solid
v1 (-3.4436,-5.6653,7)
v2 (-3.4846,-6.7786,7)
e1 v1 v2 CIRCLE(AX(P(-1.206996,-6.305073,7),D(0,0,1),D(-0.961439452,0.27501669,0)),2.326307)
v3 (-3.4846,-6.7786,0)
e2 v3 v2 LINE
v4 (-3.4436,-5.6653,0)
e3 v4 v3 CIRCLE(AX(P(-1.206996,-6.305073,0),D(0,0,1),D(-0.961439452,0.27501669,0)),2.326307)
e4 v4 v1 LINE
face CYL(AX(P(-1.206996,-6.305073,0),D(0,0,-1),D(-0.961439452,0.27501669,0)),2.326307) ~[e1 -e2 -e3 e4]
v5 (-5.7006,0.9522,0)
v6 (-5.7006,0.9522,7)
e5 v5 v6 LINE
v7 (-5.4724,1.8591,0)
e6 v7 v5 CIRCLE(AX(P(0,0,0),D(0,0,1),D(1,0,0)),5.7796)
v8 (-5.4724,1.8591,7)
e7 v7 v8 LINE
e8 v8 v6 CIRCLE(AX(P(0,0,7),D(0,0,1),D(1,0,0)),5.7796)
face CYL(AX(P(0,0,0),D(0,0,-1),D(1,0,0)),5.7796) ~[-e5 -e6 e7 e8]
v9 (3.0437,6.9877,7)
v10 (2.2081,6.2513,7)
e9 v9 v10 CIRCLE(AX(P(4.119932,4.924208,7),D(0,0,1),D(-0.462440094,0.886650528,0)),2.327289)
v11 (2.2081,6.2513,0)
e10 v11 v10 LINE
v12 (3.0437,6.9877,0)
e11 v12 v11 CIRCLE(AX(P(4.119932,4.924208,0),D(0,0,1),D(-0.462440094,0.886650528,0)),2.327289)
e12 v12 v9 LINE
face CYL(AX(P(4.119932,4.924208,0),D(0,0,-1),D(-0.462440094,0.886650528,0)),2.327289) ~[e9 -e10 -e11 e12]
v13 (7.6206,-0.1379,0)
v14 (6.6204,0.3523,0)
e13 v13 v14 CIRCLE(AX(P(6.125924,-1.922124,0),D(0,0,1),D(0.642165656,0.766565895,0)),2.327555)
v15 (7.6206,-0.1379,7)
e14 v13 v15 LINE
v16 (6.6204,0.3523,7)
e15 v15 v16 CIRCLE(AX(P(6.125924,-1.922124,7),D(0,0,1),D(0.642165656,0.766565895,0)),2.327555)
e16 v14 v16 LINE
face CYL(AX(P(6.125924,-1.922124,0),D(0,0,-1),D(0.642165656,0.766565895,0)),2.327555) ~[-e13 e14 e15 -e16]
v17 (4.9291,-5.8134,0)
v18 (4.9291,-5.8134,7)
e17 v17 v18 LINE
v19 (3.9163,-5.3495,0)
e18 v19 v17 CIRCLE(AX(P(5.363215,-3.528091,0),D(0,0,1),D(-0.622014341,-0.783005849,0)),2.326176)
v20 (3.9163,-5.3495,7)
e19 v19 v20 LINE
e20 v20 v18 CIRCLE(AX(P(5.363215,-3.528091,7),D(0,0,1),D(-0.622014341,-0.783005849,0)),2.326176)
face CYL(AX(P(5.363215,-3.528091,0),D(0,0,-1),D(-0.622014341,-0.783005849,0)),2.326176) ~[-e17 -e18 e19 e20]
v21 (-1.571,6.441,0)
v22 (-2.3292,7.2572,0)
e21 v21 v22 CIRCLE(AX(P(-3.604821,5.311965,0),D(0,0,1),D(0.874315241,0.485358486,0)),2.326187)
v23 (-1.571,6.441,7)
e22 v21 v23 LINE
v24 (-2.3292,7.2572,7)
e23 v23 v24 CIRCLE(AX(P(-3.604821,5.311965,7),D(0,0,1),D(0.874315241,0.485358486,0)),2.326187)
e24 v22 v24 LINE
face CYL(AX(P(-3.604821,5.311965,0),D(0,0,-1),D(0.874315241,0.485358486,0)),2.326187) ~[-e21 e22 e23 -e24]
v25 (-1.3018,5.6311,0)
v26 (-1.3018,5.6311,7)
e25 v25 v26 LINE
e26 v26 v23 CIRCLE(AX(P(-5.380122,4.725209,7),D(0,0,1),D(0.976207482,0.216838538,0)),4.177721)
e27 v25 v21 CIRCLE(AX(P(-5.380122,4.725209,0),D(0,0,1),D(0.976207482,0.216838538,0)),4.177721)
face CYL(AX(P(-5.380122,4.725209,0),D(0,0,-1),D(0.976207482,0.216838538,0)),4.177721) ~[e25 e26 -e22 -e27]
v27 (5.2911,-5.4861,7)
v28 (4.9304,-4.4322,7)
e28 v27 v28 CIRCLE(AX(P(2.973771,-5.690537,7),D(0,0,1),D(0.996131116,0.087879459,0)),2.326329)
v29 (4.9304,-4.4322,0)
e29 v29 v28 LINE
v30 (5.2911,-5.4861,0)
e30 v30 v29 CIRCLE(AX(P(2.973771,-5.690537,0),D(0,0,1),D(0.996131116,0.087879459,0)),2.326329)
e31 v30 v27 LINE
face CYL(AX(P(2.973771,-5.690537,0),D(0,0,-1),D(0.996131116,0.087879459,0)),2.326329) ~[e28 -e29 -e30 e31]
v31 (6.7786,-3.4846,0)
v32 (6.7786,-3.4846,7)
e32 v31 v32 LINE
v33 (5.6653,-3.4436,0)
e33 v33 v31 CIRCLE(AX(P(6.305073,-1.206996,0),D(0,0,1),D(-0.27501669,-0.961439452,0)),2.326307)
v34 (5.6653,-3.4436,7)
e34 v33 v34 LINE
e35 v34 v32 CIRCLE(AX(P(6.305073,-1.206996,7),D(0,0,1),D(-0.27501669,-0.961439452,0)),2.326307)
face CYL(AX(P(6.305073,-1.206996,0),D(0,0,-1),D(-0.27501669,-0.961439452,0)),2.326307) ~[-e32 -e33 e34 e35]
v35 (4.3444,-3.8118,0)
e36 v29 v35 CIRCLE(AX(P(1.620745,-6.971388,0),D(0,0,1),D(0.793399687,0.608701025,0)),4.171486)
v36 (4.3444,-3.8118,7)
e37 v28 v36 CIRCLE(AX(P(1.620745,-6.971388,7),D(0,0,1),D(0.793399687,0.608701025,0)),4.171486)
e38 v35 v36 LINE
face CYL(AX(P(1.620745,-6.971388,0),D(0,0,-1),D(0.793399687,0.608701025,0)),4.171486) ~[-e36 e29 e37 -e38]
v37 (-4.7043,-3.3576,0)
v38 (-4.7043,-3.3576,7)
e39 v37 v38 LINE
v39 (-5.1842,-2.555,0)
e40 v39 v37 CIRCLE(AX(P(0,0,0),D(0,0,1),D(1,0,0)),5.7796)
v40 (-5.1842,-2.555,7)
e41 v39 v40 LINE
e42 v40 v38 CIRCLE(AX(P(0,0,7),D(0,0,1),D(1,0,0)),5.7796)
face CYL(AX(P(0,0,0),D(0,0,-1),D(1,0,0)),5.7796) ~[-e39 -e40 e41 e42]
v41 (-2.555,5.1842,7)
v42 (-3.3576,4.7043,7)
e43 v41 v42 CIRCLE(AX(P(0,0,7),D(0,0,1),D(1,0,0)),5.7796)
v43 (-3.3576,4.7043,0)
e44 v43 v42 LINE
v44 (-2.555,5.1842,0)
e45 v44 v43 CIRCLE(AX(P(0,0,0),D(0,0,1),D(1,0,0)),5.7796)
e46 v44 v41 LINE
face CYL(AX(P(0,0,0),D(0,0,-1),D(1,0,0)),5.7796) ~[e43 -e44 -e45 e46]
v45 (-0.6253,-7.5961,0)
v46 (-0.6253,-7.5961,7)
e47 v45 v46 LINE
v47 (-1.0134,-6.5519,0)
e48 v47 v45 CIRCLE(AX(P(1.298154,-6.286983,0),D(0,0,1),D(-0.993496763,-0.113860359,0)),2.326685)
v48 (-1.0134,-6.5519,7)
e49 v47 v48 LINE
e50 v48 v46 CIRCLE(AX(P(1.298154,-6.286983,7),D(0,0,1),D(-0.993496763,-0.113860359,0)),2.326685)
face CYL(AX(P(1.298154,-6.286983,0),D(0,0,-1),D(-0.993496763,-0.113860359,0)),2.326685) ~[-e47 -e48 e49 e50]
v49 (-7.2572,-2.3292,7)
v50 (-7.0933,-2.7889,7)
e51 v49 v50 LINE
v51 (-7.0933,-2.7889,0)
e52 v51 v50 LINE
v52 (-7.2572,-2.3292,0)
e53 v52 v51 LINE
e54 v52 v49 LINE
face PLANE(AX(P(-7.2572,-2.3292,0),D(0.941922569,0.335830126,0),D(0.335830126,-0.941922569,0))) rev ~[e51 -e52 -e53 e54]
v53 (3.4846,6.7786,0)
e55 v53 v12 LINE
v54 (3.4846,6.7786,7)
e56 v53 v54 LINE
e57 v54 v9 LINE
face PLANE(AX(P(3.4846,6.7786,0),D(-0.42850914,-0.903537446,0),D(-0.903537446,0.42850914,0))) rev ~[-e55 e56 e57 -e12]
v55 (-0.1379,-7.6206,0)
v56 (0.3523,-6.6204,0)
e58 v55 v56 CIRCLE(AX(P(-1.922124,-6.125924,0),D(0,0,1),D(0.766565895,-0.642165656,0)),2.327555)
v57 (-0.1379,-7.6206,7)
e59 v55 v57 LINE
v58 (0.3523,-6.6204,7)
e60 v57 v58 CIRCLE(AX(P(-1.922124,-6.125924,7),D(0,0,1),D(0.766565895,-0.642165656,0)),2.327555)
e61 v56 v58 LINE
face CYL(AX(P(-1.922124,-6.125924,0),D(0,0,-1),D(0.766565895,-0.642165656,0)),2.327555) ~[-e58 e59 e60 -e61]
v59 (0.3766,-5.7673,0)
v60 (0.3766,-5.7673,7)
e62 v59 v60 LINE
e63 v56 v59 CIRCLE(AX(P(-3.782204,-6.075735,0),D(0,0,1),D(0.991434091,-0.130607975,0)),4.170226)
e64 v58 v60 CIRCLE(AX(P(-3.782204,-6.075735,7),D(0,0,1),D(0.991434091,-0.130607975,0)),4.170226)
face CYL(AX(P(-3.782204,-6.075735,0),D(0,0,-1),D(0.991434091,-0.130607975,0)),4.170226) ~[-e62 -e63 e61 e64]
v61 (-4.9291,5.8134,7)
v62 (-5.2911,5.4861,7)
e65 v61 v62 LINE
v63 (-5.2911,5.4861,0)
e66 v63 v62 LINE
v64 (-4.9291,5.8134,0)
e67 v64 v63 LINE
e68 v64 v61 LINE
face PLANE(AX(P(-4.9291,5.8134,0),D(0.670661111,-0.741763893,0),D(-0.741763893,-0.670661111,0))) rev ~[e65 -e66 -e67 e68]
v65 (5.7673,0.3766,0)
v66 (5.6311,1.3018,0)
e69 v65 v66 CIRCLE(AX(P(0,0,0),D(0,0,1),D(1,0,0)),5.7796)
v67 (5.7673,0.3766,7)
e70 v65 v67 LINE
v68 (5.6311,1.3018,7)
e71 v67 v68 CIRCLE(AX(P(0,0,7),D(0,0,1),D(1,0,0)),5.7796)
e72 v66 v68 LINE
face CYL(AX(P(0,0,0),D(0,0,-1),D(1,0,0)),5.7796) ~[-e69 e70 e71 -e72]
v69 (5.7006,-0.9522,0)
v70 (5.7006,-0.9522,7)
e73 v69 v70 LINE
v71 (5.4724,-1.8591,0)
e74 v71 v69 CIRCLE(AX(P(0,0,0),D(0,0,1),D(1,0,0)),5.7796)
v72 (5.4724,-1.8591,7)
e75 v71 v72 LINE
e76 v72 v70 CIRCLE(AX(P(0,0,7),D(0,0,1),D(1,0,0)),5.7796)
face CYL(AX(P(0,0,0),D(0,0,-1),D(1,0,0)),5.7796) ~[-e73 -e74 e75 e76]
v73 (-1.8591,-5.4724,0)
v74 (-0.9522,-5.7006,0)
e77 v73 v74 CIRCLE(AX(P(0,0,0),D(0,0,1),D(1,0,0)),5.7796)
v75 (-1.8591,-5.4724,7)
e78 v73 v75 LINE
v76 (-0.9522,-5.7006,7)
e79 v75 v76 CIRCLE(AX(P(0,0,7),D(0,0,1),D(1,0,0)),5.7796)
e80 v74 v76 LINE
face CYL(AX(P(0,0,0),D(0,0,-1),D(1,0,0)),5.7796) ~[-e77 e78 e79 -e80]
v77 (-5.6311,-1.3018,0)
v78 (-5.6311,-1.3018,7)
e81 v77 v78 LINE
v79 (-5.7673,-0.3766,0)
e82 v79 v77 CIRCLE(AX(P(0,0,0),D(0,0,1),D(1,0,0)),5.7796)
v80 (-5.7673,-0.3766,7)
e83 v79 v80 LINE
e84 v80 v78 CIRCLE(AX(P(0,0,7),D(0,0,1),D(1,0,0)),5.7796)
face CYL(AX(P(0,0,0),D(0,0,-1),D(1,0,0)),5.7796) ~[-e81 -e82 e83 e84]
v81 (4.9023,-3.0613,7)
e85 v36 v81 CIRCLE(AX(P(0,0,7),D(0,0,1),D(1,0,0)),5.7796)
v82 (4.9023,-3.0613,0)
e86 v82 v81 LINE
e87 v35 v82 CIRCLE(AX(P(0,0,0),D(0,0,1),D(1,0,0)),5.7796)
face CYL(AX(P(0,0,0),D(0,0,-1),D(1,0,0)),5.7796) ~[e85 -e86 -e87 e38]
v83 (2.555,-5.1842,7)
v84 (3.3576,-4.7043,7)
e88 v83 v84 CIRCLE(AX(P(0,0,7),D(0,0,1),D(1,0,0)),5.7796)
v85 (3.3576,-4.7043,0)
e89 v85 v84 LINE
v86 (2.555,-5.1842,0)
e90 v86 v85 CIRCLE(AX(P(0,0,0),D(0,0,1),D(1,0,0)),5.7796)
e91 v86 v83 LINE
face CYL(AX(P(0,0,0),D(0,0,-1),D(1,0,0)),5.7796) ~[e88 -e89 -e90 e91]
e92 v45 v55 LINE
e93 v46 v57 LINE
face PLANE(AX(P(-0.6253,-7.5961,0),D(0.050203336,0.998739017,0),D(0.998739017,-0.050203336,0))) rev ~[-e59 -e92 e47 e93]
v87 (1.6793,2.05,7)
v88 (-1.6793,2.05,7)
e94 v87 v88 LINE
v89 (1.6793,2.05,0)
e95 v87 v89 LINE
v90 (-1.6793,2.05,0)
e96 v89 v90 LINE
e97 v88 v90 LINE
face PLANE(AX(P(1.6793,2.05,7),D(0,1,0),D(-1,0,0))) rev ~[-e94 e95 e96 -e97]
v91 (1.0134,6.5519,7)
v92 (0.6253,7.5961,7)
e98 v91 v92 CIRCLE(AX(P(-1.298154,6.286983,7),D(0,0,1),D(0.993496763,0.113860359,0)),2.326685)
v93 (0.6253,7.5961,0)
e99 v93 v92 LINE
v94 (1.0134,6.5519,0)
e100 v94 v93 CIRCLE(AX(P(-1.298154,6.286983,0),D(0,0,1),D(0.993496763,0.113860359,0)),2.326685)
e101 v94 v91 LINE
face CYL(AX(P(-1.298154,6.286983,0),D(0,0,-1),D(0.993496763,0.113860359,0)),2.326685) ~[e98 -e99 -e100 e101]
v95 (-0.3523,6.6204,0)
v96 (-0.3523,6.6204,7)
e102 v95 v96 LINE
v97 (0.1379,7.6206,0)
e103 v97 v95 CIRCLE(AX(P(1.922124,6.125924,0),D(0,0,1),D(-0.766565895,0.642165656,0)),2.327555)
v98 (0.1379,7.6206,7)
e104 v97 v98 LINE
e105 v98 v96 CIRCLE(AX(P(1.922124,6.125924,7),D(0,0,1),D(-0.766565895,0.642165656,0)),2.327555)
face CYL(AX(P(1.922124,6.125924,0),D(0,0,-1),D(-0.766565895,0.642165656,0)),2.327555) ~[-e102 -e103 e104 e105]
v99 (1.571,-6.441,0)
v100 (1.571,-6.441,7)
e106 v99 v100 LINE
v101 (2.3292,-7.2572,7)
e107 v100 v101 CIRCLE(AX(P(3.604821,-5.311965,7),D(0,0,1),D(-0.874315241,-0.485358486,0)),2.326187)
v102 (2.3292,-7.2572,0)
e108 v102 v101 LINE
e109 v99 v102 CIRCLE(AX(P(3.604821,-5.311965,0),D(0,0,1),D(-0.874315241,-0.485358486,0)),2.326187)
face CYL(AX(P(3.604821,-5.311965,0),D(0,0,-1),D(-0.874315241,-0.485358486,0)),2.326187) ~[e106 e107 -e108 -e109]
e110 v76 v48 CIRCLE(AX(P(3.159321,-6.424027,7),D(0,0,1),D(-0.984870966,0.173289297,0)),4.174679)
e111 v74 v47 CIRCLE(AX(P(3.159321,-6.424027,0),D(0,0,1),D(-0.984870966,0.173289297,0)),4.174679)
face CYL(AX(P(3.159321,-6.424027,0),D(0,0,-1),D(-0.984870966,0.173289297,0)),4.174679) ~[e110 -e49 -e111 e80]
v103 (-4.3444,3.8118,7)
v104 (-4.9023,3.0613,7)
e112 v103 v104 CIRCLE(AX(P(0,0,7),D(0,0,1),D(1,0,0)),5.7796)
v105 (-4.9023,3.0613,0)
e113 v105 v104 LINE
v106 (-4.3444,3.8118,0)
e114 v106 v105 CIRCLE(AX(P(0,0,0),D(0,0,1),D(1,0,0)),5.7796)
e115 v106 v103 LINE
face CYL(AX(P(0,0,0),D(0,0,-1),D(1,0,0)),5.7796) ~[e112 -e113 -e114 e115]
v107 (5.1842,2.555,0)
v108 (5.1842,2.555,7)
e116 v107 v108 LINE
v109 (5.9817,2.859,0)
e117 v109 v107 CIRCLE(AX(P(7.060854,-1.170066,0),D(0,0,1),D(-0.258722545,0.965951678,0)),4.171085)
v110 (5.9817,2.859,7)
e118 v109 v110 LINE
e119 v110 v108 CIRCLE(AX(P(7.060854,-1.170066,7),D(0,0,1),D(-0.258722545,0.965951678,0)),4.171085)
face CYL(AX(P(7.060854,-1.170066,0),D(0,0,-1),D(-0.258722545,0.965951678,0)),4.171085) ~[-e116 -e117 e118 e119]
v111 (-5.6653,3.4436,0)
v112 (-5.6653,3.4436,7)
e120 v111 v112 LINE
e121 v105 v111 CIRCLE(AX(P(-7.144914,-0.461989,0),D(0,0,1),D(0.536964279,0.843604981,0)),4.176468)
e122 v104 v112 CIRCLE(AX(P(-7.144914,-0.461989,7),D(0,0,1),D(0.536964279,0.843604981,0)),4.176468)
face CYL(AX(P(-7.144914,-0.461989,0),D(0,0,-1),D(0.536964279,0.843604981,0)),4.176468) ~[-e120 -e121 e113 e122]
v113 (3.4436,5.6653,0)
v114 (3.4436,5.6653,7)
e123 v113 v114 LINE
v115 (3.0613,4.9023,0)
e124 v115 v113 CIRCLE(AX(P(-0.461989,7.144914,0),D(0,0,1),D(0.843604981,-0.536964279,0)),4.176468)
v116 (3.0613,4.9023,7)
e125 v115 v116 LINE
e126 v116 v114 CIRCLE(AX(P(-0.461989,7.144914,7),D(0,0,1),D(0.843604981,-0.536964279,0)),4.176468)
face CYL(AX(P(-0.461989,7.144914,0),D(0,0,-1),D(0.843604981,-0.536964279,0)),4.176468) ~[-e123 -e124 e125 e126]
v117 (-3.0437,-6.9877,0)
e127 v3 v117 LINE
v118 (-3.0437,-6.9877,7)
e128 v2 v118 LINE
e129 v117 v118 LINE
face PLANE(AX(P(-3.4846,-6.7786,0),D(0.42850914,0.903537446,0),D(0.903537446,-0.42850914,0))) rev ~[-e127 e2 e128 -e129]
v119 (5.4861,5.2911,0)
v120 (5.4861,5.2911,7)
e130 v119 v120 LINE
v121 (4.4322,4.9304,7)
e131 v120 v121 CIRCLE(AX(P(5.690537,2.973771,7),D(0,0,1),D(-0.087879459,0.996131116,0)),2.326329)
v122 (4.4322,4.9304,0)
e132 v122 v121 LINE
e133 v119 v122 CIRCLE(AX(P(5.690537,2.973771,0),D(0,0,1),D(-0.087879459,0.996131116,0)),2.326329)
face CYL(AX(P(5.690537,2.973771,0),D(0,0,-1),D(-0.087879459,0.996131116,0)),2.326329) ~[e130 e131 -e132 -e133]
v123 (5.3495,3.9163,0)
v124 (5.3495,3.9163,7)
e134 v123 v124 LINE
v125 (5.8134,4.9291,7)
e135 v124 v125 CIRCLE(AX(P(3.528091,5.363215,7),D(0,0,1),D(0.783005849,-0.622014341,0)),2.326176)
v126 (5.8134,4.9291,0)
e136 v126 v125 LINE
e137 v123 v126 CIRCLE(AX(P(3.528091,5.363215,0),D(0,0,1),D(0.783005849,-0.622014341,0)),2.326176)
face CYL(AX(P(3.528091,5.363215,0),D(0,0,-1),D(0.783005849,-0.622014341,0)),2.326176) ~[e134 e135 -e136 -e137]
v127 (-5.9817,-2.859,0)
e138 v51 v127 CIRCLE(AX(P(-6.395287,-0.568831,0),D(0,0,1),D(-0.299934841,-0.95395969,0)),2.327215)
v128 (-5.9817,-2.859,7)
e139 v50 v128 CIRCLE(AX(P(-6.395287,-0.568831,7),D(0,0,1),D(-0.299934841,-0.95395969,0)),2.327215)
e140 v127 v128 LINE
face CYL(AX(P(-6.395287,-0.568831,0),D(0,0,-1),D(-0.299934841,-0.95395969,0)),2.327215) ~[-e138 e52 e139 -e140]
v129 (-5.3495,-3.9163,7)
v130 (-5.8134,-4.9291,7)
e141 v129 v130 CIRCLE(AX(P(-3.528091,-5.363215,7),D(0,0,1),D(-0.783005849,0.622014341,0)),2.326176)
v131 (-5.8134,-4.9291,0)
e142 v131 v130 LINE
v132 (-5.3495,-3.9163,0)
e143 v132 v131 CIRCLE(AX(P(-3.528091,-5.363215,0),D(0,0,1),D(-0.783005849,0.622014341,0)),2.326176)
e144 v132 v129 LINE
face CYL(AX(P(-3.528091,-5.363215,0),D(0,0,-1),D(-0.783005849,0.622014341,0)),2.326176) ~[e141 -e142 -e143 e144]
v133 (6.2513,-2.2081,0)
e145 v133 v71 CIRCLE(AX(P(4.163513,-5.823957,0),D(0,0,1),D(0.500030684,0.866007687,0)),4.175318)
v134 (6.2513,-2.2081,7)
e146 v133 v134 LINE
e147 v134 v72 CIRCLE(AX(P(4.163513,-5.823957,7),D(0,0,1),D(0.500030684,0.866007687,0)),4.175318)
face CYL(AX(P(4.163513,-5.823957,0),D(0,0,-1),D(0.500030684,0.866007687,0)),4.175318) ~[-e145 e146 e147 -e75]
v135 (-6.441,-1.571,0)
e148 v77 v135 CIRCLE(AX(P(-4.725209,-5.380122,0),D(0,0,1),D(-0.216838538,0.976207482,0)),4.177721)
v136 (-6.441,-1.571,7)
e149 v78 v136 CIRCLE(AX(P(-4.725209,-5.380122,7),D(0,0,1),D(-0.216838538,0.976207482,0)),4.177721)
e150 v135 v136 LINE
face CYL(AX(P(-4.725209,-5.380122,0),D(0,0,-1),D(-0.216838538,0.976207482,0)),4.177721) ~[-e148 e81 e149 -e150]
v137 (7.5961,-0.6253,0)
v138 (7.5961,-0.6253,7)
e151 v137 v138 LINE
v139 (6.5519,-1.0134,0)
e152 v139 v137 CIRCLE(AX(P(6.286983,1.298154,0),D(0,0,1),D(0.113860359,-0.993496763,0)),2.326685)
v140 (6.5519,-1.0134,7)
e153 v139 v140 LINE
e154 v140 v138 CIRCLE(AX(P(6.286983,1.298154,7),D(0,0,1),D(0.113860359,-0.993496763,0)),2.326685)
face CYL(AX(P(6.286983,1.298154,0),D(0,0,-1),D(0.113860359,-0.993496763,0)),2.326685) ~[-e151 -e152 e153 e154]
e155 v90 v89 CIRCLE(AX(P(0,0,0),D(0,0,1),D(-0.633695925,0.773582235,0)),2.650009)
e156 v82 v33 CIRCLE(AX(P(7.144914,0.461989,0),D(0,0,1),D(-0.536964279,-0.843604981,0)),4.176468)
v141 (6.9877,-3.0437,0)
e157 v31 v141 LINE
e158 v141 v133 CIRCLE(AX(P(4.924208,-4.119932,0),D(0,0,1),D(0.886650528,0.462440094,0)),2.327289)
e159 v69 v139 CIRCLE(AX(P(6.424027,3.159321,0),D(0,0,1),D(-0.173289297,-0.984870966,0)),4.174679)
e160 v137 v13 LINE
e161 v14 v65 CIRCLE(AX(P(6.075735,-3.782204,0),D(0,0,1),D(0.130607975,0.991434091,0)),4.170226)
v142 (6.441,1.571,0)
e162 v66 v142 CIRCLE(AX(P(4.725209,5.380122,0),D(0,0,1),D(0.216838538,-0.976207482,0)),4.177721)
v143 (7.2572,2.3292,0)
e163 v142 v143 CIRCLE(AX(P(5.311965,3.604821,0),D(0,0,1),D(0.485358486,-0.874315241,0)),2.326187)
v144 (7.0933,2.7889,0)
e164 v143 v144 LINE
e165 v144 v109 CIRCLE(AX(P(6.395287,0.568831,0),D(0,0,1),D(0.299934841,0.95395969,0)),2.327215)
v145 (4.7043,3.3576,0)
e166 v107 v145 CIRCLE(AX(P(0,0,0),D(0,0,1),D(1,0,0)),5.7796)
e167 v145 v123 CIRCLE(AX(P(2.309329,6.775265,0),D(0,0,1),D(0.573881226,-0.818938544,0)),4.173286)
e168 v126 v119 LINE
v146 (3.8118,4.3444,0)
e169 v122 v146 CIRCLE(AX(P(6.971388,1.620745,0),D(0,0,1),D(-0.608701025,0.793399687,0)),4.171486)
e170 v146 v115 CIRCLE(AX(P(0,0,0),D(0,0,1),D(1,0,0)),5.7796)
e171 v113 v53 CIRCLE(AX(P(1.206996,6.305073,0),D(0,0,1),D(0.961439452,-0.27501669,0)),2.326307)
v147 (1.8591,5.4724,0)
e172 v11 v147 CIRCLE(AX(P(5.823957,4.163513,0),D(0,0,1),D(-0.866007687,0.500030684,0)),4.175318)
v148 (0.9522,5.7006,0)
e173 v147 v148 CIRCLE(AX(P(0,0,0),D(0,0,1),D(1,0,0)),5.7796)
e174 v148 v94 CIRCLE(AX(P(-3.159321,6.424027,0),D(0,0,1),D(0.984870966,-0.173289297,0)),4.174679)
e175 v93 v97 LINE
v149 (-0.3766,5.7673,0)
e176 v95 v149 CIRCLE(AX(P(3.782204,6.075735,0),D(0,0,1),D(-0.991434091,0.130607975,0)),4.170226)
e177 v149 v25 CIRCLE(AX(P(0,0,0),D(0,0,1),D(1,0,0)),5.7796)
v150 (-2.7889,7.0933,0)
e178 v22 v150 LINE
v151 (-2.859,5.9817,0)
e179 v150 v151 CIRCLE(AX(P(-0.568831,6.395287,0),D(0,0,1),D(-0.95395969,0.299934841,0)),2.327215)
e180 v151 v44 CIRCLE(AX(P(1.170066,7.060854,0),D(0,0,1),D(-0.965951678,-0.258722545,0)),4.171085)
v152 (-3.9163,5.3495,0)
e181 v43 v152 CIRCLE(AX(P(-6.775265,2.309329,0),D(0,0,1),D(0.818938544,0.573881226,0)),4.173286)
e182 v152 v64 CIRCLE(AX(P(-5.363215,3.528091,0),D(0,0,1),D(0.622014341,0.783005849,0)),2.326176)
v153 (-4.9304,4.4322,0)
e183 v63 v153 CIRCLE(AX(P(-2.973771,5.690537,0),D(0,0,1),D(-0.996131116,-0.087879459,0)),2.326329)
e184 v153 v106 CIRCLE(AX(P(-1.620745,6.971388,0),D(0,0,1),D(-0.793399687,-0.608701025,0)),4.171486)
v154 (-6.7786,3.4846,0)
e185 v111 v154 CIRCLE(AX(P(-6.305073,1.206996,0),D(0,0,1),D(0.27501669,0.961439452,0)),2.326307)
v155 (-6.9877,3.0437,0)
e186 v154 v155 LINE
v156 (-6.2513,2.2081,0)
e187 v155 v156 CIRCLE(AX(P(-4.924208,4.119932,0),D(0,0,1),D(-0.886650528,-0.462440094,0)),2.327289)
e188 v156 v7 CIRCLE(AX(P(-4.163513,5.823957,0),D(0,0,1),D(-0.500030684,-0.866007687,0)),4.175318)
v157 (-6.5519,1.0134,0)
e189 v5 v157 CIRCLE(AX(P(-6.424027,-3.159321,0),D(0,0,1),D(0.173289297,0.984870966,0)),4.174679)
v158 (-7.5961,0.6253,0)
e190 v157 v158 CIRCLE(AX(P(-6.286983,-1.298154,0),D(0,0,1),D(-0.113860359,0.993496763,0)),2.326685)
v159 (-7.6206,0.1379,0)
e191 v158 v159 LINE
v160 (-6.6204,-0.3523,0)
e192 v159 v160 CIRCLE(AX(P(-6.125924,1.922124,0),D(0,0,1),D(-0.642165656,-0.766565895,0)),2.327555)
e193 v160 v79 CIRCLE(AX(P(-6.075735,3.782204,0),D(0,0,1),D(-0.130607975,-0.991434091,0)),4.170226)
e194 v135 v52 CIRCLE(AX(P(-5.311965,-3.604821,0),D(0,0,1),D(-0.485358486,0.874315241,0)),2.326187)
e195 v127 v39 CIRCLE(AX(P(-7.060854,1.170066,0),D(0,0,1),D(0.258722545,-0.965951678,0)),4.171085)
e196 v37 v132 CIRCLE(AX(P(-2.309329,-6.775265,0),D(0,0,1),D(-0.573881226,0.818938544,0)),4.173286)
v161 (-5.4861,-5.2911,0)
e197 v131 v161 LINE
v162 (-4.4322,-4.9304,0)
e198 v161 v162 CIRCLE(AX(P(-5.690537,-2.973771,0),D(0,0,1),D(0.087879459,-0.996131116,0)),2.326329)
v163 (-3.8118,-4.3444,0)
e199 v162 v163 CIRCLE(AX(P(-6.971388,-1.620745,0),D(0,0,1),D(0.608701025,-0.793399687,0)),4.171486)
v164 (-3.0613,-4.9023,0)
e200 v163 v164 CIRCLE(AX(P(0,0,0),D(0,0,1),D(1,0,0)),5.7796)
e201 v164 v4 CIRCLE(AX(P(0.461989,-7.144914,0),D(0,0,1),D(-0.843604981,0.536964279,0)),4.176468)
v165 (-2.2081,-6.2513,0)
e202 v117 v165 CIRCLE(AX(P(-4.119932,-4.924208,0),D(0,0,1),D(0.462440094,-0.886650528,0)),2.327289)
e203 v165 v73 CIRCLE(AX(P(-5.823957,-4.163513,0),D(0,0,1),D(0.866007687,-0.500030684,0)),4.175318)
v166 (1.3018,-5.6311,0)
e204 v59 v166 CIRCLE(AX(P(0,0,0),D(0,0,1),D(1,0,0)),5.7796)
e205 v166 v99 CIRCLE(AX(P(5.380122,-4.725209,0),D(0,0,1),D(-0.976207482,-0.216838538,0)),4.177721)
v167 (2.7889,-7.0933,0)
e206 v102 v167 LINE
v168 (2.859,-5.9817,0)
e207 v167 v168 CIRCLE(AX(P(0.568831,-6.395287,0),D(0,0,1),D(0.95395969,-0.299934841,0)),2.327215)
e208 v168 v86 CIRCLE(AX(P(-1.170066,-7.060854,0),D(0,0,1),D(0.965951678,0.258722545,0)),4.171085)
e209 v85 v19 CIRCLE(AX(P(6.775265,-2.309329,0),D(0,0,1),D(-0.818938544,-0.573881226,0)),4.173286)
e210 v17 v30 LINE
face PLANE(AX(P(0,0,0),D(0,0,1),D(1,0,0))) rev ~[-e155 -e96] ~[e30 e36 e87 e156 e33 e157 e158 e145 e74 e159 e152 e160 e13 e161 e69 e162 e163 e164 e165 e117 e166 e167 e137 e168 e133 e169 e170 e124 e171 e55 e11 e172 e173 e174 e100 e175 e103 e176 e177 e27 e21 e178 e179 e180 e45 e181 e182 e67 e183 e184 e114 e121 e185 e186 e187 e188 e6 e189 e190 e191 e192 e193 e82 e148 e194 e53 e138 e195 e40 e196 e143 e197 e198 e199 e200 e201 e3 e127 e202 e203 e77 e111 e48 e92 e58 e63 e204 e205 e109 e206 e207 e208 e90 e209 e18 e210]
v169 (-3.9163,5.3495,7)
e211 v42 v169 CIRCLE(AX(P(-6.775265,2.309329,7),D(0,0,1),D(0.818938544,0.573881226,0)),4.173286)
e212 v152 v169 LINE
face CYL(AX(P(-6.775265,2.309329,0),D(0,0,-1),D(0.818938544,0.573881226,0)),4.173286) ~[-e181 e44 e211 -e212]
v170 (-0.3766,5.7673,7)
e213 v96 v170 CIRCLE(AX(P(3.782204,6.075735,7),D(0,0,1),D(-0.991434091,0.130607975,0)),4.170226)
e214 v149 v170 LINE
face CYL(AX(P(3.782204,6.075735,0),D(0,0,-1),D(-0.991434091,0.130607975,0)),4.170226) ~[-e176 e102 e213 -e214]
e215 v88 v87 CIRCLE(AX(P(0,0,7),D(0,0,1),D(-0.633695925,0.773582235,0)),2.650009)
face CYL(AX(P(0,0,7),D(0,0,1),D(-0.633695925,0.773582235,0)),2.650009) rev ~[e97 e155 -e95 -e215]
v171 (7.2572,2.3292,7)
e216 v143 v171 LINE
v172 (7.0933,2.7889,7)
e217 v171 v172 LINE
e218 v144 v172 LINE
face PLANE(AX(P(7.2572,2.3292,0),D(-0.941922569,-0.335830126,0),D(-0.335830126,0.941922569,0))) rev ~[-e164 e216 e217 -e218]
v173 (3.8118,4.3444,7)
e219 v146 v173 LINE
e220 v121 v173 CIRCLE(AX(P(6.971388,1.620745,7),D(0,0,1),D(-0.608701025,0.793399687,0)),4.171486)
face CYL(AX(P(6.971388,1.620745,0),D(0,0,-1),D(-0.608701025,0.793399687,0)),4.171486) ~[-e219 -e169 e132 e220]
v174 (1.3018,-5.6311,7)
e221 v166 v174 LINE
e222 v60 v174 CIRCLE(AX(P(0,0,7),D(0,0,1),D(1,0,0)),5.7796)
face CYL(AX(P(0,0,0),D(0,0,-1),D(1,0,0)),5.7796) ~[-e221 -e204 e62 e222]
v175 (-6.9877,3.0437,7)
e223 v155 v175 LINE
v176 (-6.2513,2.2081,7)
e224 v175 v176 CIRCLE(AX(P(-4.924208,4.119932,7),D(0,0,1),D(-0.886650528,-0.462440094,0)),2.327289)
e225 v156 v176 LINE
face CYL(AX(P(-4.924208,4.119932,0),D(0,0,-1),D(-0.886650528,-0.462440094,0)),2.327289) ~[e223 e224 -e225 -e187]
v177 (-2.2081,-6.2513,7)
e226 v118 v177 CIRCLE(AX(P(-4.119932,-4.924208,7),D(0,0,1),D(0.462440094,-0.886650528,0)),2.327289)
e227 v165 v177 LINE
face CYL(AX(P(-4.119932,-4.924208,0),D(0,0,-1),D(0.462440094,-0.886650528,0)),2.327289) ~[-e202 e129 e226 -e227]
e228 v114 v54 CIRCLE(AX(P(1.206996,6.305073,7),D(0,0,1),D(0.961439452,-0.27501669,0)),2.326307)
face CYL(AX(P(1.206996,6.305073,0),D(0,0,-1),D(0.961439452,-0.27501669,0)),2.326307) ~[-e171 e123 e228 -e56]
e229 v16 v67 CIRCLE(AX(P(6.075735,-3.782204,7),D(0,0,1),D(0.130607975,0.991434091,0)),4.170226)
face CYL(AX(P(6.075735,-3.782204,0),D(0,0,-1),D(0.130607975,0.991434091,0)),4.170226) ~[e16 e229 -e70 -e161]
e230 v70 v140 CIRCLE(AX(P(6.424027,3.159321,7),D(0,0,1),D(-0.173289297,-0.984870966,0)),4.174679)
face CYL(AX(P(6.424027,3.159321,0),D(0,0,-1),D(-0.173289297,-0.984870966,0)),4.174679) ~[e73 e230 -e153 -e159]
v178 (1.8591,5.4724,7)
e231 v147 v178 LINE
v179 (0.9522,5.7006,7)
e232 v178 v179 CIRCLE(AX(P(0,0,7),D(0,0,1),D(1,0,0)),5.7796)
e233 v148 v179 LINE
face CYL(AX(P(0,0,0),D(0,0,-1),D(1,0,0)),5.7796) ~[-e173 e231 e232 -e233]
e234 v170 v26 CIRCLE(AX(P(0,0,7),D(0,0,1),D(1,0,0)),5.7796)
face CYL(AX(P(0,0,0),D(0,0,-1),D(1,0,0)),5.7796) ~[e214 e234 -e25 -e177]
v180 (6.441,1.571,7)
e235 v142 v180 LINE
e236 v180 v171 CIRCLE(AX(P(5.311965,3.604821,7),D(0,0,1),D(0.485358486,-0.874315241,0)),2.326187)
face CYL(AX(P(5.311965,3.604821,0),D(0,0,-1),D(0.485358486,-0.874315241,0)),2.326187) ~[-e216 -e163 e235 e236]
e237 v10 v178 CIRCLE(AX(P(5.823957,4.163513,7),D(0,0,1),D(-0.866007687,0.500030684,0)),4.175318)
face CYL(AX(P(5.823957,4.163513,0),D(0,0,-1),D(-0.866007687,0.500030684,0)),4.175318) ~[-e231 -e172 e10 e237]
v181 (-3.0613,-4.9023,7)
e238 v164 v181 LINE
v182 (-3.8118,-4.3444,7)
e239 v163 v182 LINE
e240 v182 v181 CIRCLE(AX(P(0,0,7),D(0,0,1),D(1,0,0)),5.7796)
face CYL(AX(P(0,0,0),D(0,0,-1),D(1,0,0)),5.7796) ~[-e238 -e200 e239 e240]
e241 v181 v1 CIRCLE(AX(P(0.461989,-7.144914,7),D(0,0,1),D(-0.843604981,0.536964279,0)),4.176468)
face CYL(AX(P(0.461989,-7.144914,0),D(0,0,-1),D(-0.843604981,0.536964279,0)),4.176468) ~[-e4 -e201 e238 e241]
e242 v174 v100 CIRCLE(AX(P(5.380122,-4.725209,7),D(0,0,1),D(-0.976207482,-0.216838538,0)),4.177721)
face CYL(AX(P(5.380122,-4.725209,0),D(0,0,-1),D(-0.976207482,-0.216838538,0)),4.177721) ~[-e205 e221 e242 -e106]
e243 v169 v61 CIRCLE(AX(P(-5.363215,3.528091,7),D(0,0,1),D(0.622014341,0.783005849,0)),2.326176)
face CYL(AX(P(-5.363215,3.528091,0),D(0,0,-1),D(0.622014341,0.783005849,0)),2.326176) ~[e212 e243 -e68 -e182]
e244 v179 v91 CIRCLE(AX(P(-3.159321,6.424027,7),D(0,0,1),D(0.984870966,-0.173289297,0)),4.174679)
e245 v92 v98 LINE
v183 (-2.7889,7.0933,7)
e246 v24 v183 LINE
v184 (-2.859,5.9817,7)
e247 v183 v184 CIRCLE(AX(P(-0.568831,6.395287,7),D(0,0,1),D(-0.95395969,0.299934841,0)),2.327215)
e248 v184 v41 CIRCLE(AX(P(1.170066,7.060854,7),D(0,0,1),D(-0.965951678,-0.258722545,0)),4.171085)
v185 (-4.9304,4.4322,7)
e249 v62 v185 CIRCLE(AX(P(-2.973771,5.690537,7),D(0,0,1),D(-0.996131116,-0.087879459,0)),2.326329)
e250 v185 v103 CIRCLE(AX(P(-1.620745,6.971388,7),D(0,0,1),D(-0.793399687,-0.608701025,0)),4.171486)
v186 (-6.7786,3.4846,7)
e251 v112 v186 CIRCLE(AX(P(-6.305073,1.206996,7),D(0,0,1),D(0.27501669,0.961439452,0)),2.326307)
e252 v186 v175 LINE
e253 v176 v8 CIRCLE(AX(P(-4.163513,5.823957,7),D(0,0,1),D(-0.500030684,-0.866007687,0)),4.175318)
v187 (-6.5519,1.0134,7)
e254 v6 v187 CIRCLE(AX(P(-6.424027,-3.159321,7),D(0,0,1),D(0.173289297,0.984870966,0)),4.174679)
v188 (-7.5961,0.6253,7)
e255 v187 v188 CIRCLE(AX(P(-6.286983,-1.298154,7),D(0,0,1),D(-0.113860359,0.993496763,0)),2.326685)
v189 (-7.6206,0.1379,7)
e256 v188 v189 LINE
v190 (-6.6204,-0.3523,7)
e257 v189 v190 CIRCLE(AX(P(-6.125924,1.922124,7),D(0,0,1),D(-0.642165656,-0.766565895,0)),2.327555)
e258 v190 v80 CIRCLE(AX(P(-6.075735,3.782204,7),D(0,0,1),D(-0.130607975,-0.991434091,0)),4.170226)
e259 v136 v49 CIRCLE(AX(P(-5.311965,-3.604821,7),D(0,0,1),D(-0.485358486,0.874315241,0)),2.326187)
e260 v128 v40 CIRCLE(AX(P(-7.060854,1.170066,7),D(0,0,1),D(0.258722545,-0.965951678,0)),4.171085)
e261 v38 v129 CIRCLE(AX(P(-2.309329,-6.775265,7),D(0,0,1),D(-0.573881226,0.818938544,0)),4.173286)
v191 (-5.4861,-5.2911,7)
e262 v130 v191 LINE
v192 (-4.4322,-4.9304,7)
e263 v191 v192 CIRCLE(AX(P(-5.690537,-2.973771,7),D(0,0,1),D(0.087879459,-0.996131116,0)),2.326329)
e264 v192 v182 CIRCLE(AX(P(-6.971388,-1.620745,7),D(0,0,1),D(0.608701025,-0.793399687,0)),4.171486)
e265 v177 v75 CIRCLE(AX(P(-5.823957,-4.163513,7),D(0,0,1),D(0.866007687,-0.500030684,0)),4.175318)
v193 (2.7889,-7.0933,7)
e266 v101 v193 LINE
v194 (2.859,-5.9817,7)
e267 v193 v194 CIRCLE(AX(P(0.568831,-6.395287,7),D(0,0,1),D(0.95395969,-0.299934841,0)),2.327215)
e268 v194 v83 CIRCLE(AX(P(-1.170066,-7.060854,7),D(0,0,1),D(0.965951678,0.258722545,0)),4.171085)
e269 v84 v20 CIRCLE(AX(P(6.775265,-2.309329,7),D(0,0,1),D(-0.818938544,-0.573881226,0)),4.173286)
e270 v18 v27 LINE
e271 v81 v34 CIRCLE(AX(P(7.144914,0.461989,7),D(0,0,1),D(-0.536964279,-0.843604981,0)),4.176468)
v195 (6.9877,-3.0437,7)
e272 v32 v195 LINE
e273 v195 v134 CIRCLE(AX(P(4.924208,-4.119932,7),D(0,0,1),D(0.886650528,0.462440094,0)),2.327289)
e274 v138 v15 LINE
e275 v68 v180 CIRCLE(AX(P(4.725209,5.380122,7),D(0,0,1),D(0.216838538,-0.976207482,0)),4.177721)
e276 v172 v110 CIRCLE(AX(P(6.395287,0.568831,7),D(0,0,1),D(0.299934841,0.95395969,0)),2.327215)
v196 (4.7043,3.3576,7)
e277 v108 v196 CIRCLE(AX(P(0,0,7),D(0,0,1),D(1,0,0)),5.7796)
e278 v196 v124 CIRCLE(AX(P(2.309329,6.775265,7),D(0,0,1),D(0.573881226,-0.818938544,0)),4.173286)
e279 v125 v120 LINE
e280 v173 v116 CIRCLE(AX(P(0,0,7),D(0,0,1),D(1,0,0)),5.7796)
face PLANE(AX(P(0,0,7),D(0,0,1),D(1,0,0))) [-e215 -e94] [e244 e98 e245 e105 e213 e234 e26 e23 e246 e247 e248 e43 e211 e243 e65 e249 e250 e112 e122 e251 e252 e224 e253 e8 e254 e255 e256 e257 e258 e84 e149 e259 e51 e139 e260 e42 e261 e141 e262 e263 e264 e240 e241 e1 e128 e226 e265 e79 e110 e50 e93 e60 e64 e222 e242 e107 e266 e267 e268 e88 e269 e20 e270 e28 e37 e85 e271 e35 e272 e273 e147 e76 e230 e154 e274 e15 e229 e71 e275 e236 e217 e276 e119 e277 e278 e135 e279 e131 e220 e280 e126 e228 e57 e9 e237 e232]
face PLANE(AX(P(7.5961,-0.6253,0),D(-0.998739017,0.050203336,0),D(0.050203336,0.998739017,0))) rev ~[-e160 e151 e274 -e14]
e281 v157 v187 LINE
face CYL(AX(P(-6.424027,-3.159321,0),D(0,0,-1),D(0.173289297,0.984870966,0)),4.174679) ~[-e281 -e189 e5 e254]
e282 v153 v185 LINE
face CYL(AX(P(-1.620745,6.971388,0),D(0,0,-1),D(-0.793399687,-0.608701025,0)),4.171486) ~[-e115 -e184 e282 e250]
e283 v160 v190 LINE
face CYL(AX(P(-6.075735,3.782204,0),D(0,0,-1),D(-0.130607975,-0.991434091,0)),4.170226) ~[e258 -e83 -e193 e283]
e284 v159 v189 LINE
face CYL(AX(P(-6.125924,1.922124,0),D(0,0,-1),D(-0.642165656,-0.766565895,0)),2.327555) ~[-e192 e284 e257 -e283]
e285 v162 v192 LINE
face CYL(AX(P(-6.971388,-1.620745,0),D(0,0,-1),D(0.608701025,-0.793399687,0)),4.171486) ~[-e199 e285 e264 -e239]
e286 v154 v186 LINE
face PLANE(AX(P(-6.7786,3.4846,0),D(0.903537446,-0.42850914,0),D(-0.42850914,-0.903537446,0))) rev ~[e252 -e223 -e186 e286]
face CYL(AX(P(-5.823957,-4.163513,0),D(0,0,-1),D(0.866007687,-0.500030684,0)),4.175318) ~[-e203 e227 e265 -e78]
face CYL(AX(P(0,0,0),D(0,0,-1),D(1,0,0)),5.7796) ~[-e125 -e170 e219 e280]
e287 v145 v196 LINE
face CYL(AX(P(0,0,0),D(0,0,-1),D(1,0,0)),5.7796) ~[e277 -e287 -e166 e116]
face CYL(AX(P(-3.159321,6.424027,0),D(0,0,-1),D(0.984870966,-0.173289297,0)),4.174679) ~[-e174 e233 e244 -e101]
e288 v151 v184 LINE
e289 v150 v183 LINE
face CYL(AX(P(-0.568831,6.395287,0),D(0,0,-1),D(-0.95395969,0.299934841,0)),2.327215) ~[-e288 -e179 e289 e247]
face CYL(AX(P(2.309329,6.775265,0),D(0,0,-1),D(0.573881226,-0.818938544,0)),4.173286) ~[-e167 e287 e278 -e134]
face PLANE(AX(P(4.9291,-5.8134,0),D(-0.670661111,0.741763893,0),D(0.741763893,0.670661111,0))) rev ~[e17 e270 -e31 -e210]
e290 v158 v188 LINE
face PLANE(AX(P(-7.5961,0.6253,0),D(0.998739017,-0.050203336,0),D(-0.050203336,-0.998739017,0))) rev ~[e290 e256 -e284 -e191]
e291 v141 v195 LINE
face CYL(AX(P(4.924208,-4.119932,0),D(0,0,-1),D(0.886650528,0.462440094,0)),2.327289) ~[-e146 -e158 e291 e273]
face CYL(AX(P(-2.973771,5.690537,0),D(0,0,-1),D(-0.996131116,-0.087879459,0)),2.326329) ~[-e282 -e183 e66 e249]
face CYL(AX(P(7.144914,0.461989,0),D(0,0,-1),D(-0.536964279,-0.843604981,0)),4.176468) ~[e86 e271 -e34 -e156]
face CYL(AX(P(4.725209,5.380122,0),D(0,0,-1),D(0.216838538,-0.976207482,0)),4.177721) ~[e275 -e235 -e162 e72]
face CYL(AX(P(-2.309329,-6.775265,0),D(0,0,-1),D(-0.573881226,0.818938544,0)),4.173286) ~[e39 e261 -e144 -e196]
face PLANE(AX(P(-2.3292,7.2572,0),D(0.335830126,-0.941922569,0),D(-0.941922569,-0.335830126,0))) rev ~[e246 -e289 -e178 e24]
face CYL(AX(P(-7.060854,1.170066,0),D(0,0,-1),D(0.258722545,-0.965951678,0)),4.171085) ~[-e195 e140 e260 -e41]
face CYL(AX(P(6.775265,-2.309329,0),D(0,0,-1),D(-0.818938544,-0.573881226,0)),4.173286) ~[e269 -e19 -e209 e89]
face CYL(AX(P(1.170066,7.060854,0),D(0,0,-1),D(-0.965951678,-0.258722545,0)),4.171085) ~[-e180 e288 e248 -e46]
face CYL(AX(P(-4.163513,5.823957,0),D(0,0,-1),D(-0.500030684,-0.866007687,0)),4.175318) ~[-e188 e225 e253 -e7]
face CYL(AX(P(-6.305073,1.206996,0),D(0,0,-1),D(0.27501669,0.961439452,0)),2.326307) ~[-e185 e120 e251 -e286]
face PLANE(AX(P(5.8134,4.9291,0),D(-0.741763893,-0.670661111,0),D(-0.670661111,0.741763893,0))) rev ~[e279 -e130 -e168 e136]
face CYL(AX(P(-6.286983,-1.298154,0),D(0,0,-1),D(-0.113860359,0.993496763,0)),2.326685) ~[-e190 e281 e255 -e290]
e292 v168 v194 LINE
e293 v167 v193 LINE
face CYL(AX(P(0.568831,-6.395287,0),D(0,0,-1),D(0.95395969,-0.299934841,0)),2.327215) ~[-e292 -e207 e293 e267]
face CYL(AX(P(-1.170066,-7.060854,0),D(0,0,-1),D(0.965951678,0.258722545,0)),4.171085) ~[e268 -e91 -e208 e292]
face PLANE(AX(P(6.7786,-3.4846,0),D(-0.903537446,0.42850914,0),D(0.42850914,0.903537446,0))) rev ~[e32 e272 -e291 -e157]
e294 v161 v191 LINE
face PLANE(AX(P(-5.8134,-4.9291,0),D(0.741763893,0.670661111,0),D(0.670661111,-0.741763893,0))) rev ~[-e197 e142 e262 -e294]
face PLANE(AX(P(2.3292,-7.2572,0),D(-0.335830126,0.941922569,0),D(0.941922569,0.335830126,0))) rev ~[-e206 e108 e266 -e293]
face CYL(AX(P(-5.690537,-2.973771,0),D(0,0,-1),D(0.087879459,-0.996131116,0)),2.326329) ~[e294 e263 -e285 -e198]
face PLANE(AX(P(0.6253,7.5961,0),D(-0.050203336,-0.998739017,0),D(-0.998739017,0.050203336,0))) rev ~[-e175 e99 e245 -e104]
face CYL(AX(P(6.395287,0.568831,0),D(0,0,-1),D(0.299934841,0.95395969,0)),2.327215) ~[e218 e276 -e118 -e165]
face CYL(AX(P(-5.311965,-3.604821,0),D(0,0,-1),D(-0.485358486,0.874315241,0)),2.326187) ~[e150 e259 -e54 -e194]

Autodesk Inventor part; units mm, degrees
ref_plane "YZ Plane" through (0, 0, 0) normal (1, 0, 0) x (0, 1, 0)
ref_plane "XZ Plane" through (0, 0, 0) normal (0, 1, 0) x (-1, 0, 0)
ref_plane "XY Plane" through (0, 0, 0) normal (0, 0, 1) x (1, 0, 0)
sketch "Sketch1" plane through (0, 0, 0) normal (0, 0, 1) x (1, 0, 0)
  circle A0 centre (0, 0) radius 5.7796
  arc A1 (0.9522, 5.7006) -> (1.0134, 6.5519) centre (-3.1591, 6.424) ccw
  arc A2 (1.0134, 6.5519) -> (0.6253, 7.5961) centre (-1.2985, 6.2869) ccw
  arc A3 (-0.3523, 6.6204) -> (-0.3766, 5.7673) centre (3.7864, 6.0754) ccw
  arc A4 (0.1379, 7.6206) -> (-0.3523, 6.6204) centre (1.9217, 6.1262) ccw
  line L0 (0.6253, 7.5961) -> (0.1379, 7.6206)
  arc A5 (0.9522, 5.7006) -> (-0.3766, 5.7673) centre (0, 0) ccw
  arc A6 (-2.7889, 7.0933) -> (-2.859, 5.9817) centre (-0.5689, 6.3953) ccw
  arc A7 (-2.859, 5.9817) -> (-2.555, 5.1842) centre (1.1733, 7.0619) ccw
  line L1 (-2.3292, 7.2572) -> (-2.7889, 7.0933)
  arc A8 (-1.571, 6.441) -> (-2.3292, 7.2572) centre (-3.6056, 5.3114) ccw
  arc A9 (-1.3018, 5.6311) -> (-1.571, 6.441) centre (-5.3769, 4.7261) ccw
  arc A10 (-1.3018, 5.6311) -> (-2.555, 5.1842) centre (0, 0) ccw
  arc A11 (-5.2911, 5.4861) -> (-4.9304, 4.4322) centre (-2.973, 5.6907) ccw
  arc A12 (-4.9304, 4.4322) -> (-4.3444, 3.8118) centre (-1.6185, 6.9733) ccw
  line L2 (-4.9291, 5.8134) -> (-5.2911, 5.4861)
  arc A13 (-3.9163, 5.3495) -> (-4.9291, 5.8134) centre (-5.3637, 3.5273) ccw
  arc A14 (-3.3576, 4.7043) -> (-3.9163, 5.3495) centre (-6.7762, 2.3086) ccw
  arc A15 (-3.3576, 4.7043) -> (-4.3444, 3.8118) centre (0, 0) ccw
  arc A16 (-6.9877, 3.0437) -> (-6.2513, 2.2081) centre (-4.9244, 4.1198) ccw
  arc A17 (-6.2513, 2.2081) -> (-5.4724, 1.8591) centre (-4.1639, 5.8232) ccw
  line L3 (-6.7786, 3.4846) -> (-6.9877, 3.0437)
  arc A18 (-5.6653, 3.4436) -> (-6.7786, 3.4846) centre (-6.3052, 1.2062) ccw
  arc A19 (-4.9023, 3.0613) -> (-5.6653, 3.4436) centre (-7.1439, -0.4602) ccw
  arc A20 (-4.9023, 3.0613) -> (-5.4724, 1.8591) centre (0, 0) ccw
  arc A21 (-7.6206, 0.1379) -> (-6.6204, -0.3523) centre (-6.1262, 1.9217) ccw
  arc A22 (-6.6204, -0.3523) -> (-5.7673, -0.3766) centre (-6.0754, 3.7864) ccw
  line L4 (-7.5961, 0.6253) -> (-7.6206, 0.1379)
  arc A23 (-6.5519, 1.0134) -> (-7.5961, 0.6253) centre (-6.2869, -1.2985) ccw
  arc A24 (-5.7006, 0.9522) -> (-6.5519, 1.0134) centre (-6.424, -3.1591) ccw
  arc A25 (-5.7006, 0.9522) -> (-5.7673, -0.3766) centre (0, 0) ccw
  arc A26 (-7.0933, -2.7889) -> (-5.9817, -2.859) centre (-6.3953, -0.5689) ccw
  arc A27 (-5.9817, -2.859) -> (-5.1842, -2.555) centre (-7.0619, 1.1733) ccw
  line L5 (-7.2572, -2.3292) -> (-7.0933, -2.7889)
  arc A28 (-6.441, -1.571) -> (-7.2572, -2.3292) centre (-5.3114, -3.6056) ccw
  arc A29 (-5.6311, -1.3018) -> (-6.441, -1.571) centre (-4.7261, -5.3769) ccw
  arc A30 (-5.6311, -1.3018) -> (-5.1842, -2.555) centre (0, 0) ccw
  arc A31 (-5.4861, -5.2911) -> (-4.4322, -4.9304) centre (-5.6907, -2.973) ccw
  arc A32 (-4.4322, -4.9304) -> (-3.8118, -4.3444) centre (-6.9733, -1.6185) ccw
  line L6 (-5.8134, -4.9291) -> (-5.4861, -5.2911)
  arc A33 (-5.3495, -3.9163) -> (-5.8134, -4.9291) centre (-3.5273, -5.3637) ccw
  arc A34 (-4.7043, -3.3576) -> (-5.3495, -3.9163) centre (-2.3086, -6.7762) ccw
  arc A35 (-4.7043, -3.3576) -> (-3.8118, -4.3444) centre (0, 0) ccw
  arc A36 (-3.0437, -6.9877) -> (-2.2081, -6.2513) centre (-4.1198, -4.9244) ccw
  arc A37 (-2.2081, -6.2513) -> (-1.8591, -5.4724) centre (-5.8232, -4.1639) ccw
  line L7 (-3.4846, -6.7786) -> (-3.0437, -6.9877)
  arc A38 (-3.4436, -5.6653) -> (-3.4846, -6.7786) centre (-1.2062, -6.3052) ccw
  arc A39 (-3.0613, -4.9023) -> (-3.4436, -5.6653) centre (0.4602, -7.1439) ccw
  arc A40 (-3.0613, -4.9023) -> (-1.8591, -5.4724) centre (0, 0) ccw
  arc A41 (-0.1379, -7.6206) -> (0.3523, -6.6204) centre (-1.9217, -6.1262) ccw
  arc A42 (0.3523, -6.6204) -> (0.3766, -5.7673) centre (-3.7864, -6.0754) ccw
  line L8 (-0.6253, -7.5961) -> (-0.1379, -7.6206)
  arc A43 (-1.0134, -6.5519) -> (-0.6253, -7.5961) centre (1.2985, -6.2869) ccw
  arc A44 (-0.9522, -5.7006) -> (-1.0134, -6.5519) centre (3.1591, -6.424) ccw
  arc A45 (-0.9522, -5.7006) -> (0.3766, -5.7673) centre (0, 0) ccw
  arc A46 (2.7889, -7.0933) -> (2.859, -5.9817) centre (0.5689, -6.3953) ccw
  arc A47 (2.859, -5.9817) -> (2.555, -5.1842) centre (-1.1733, -7.0619) ccw
  line L9 (2.3292, -7.2572) -> (2.7889, -7.0933)
  arc A48 (1.571, -6.441) -> (2.3292, -7.2572) centre (3.6056, -5.3114) ccw
  arc A49 (1.3018, -5.6311) -> (1.571, -6.441) centre (5.3769, -4.7261) ccw
  arc A50 (1.3018, -5.6311) -> (2.555, -5.1842) centre (0, 0) ccw
  arc A51 (5.2911, -5.4861) -> (4.9304, -4.4322) centre (2.973, -5.6907) ccw
  arc A52 (4.9304, -4.4322) -> (4.3444, -3.8118) centre (1.6185, -6.9733) ccw
  line L10 (4.9291, -5.8134) -> (5.2911, -5.4861)
  arc A53 (3.9163, -5.3495) -> (4.9291, -5.8134) centre (5.3637, -3.5273) ccw
  arc A54 (3.3576, -4.7043) -> (3.9163, -5.3495) centre (6.7762, -2.3086) ccw
  arc A55 (3.3576, -4.7043) -> (4.3444, -3.8118) centre (0, 0) ccw
  arc A56 (6.9877, -3.0437) -> (6.2513, -2.2081) centre (4.9244, -4.1198) ccw
  arc A57 (6.2513, -2.2081) -> (5.4724, -1.8591) centre (4.1639, -5.8232) ccw
  line L11 (6.7786, -3.4846) -> (6.9877, -3.0437)
  arc A58 (5.6653, -3.4436) -> (6.7786, -3.4846) centre (6.3052, -1.2062) ccw
  arc A59 (4.9023, -3.0613) -> (5.6653, -3.4436) centre (7.1439, 0.4602) ccw
  arc A60 (4.9023, -3.0613) -> (5.4724, -1.8591) centre (0, 0) ccw
  arc A61 (7.6206, -0.1379) -> (6.6204, 0.3523) centre (6.1262, -1.9217) ccw
  arc A62 (6.6204, 0.3523) -> (5.7673, 0.3766) centre (6.0754, -3.7864) ccw
  line L12 (7.5961, -0.6253) -> (7.6206, -0.1379)
  arc A63 (6.5519, -1.0134) -> (7.5961, -0.6253) centre (6.2869, 1.2985) ccw
  arc A64 (5.7006, -0.9522) -> (6.5519, -1.0134) centre (6.424, 3.1591) ccw
  arc A65 (5.7006, -0.9522) -> (5.7673, 0.3766) centre (0, 0) ccw
  arc A66 (7.0933, 2.7889) -> (5.9817, 2.859) centre (6.3953, 0.5689) ccw
  arc A67 (5.9817, 2.859) -> (5.1842, 2.555) centre (7.0619, -1.1733) ccw
  line L13 (7.2572, 2.3292) -> (7.0933, 2.7889)
  arc A68 (6.441, 1.571) -> (7.2572, 2.3292) centre (5.3114, 3.6056) ccw
  arc A69 (5.6311, 1.3018) -> (6.441, 1.571) centre (4.7261, 5.3769) ccw
  arc A70 (5.6311, 1.3018) -> (5.1842, 2.555) centre (0, 0) ccw
  arc A71 (5.4861, 5.2911) -> (4.4322, 4.9304) centre (5.6907, 2.973) ccw
  arc A72 (4.4322, 4.9304) -> (3.8118, 4.3444) centre (6.9733, 1.6185) ccw
  line L14 (5.8134, 4.9291) -> (5.4861, 5.2911)
  arc A73 (5.3495, 3.9163) -> (5.8134, 4.9291) centre (3.5273, 5.3637) ccw
  arc A74 (4.7043, 3.3576) -> (5.3495, 3.9163) centre (2.3086, 6.7762) ccw
  arc A75 (4.7043, 3.3576) -> (3.8118, 4.3444) centre (0, 0) ccw
  arc A76 (3.0437, 6.9877) -> (2.2081, 6.2513) centre (4.1198, 4.9244) ccw
  arc A77 (2.2081, 6.2513) -> (1.8591, 5.4724) centre (5.8232, 4.1639) ccw
  line L15 (3.4846, 6.7786) -> (3.0437, 6.9877)
  arc A78 (3.4436, 5.6653) -> (3.4846, 6.7786) centre (1.2062, 6.3052) ccw
  arc A79 (3.0613, 4.9023) -> (3.4436, 5.6653) centre (-0.4602, 7.1439) ccw
  arc A80 (3.0613, 4.9023) -> (1.8591, 5.4724) centre (0, 0) ccw
  dimension "d22" = 11.5592
  dimension "d18" = 360
extrude "Extrusion1" add sketch "Sketch1" along normal blind 7
sketch "Sketch2" plane through (0, 0, 7) normal (0, 0, 1) x (1, 0, 0)
  arc A0 (-1.6248, 1.9) -> (1.6248, 1.9) centre (0, 0) ccw
  line L0 (-1.6248, 1.9) -> (1.6248, 1.9)
  line L1 (1.6793, 2.05) -> (-1.6793, 2.05)
  arc A1 (-1.6793, 2.05) -> (1.6793, 2.05) centre (0, 0) ccw
  dimension "d23" = 5
  dimension "d26" = 0.6
  dimension "d27" = 0.15
extrude "Extrusion2" cut sketch "Sketch2" against normal blind 10 contours L0 A0 | A1 L1
properties part number "SUPERGEAR1"
